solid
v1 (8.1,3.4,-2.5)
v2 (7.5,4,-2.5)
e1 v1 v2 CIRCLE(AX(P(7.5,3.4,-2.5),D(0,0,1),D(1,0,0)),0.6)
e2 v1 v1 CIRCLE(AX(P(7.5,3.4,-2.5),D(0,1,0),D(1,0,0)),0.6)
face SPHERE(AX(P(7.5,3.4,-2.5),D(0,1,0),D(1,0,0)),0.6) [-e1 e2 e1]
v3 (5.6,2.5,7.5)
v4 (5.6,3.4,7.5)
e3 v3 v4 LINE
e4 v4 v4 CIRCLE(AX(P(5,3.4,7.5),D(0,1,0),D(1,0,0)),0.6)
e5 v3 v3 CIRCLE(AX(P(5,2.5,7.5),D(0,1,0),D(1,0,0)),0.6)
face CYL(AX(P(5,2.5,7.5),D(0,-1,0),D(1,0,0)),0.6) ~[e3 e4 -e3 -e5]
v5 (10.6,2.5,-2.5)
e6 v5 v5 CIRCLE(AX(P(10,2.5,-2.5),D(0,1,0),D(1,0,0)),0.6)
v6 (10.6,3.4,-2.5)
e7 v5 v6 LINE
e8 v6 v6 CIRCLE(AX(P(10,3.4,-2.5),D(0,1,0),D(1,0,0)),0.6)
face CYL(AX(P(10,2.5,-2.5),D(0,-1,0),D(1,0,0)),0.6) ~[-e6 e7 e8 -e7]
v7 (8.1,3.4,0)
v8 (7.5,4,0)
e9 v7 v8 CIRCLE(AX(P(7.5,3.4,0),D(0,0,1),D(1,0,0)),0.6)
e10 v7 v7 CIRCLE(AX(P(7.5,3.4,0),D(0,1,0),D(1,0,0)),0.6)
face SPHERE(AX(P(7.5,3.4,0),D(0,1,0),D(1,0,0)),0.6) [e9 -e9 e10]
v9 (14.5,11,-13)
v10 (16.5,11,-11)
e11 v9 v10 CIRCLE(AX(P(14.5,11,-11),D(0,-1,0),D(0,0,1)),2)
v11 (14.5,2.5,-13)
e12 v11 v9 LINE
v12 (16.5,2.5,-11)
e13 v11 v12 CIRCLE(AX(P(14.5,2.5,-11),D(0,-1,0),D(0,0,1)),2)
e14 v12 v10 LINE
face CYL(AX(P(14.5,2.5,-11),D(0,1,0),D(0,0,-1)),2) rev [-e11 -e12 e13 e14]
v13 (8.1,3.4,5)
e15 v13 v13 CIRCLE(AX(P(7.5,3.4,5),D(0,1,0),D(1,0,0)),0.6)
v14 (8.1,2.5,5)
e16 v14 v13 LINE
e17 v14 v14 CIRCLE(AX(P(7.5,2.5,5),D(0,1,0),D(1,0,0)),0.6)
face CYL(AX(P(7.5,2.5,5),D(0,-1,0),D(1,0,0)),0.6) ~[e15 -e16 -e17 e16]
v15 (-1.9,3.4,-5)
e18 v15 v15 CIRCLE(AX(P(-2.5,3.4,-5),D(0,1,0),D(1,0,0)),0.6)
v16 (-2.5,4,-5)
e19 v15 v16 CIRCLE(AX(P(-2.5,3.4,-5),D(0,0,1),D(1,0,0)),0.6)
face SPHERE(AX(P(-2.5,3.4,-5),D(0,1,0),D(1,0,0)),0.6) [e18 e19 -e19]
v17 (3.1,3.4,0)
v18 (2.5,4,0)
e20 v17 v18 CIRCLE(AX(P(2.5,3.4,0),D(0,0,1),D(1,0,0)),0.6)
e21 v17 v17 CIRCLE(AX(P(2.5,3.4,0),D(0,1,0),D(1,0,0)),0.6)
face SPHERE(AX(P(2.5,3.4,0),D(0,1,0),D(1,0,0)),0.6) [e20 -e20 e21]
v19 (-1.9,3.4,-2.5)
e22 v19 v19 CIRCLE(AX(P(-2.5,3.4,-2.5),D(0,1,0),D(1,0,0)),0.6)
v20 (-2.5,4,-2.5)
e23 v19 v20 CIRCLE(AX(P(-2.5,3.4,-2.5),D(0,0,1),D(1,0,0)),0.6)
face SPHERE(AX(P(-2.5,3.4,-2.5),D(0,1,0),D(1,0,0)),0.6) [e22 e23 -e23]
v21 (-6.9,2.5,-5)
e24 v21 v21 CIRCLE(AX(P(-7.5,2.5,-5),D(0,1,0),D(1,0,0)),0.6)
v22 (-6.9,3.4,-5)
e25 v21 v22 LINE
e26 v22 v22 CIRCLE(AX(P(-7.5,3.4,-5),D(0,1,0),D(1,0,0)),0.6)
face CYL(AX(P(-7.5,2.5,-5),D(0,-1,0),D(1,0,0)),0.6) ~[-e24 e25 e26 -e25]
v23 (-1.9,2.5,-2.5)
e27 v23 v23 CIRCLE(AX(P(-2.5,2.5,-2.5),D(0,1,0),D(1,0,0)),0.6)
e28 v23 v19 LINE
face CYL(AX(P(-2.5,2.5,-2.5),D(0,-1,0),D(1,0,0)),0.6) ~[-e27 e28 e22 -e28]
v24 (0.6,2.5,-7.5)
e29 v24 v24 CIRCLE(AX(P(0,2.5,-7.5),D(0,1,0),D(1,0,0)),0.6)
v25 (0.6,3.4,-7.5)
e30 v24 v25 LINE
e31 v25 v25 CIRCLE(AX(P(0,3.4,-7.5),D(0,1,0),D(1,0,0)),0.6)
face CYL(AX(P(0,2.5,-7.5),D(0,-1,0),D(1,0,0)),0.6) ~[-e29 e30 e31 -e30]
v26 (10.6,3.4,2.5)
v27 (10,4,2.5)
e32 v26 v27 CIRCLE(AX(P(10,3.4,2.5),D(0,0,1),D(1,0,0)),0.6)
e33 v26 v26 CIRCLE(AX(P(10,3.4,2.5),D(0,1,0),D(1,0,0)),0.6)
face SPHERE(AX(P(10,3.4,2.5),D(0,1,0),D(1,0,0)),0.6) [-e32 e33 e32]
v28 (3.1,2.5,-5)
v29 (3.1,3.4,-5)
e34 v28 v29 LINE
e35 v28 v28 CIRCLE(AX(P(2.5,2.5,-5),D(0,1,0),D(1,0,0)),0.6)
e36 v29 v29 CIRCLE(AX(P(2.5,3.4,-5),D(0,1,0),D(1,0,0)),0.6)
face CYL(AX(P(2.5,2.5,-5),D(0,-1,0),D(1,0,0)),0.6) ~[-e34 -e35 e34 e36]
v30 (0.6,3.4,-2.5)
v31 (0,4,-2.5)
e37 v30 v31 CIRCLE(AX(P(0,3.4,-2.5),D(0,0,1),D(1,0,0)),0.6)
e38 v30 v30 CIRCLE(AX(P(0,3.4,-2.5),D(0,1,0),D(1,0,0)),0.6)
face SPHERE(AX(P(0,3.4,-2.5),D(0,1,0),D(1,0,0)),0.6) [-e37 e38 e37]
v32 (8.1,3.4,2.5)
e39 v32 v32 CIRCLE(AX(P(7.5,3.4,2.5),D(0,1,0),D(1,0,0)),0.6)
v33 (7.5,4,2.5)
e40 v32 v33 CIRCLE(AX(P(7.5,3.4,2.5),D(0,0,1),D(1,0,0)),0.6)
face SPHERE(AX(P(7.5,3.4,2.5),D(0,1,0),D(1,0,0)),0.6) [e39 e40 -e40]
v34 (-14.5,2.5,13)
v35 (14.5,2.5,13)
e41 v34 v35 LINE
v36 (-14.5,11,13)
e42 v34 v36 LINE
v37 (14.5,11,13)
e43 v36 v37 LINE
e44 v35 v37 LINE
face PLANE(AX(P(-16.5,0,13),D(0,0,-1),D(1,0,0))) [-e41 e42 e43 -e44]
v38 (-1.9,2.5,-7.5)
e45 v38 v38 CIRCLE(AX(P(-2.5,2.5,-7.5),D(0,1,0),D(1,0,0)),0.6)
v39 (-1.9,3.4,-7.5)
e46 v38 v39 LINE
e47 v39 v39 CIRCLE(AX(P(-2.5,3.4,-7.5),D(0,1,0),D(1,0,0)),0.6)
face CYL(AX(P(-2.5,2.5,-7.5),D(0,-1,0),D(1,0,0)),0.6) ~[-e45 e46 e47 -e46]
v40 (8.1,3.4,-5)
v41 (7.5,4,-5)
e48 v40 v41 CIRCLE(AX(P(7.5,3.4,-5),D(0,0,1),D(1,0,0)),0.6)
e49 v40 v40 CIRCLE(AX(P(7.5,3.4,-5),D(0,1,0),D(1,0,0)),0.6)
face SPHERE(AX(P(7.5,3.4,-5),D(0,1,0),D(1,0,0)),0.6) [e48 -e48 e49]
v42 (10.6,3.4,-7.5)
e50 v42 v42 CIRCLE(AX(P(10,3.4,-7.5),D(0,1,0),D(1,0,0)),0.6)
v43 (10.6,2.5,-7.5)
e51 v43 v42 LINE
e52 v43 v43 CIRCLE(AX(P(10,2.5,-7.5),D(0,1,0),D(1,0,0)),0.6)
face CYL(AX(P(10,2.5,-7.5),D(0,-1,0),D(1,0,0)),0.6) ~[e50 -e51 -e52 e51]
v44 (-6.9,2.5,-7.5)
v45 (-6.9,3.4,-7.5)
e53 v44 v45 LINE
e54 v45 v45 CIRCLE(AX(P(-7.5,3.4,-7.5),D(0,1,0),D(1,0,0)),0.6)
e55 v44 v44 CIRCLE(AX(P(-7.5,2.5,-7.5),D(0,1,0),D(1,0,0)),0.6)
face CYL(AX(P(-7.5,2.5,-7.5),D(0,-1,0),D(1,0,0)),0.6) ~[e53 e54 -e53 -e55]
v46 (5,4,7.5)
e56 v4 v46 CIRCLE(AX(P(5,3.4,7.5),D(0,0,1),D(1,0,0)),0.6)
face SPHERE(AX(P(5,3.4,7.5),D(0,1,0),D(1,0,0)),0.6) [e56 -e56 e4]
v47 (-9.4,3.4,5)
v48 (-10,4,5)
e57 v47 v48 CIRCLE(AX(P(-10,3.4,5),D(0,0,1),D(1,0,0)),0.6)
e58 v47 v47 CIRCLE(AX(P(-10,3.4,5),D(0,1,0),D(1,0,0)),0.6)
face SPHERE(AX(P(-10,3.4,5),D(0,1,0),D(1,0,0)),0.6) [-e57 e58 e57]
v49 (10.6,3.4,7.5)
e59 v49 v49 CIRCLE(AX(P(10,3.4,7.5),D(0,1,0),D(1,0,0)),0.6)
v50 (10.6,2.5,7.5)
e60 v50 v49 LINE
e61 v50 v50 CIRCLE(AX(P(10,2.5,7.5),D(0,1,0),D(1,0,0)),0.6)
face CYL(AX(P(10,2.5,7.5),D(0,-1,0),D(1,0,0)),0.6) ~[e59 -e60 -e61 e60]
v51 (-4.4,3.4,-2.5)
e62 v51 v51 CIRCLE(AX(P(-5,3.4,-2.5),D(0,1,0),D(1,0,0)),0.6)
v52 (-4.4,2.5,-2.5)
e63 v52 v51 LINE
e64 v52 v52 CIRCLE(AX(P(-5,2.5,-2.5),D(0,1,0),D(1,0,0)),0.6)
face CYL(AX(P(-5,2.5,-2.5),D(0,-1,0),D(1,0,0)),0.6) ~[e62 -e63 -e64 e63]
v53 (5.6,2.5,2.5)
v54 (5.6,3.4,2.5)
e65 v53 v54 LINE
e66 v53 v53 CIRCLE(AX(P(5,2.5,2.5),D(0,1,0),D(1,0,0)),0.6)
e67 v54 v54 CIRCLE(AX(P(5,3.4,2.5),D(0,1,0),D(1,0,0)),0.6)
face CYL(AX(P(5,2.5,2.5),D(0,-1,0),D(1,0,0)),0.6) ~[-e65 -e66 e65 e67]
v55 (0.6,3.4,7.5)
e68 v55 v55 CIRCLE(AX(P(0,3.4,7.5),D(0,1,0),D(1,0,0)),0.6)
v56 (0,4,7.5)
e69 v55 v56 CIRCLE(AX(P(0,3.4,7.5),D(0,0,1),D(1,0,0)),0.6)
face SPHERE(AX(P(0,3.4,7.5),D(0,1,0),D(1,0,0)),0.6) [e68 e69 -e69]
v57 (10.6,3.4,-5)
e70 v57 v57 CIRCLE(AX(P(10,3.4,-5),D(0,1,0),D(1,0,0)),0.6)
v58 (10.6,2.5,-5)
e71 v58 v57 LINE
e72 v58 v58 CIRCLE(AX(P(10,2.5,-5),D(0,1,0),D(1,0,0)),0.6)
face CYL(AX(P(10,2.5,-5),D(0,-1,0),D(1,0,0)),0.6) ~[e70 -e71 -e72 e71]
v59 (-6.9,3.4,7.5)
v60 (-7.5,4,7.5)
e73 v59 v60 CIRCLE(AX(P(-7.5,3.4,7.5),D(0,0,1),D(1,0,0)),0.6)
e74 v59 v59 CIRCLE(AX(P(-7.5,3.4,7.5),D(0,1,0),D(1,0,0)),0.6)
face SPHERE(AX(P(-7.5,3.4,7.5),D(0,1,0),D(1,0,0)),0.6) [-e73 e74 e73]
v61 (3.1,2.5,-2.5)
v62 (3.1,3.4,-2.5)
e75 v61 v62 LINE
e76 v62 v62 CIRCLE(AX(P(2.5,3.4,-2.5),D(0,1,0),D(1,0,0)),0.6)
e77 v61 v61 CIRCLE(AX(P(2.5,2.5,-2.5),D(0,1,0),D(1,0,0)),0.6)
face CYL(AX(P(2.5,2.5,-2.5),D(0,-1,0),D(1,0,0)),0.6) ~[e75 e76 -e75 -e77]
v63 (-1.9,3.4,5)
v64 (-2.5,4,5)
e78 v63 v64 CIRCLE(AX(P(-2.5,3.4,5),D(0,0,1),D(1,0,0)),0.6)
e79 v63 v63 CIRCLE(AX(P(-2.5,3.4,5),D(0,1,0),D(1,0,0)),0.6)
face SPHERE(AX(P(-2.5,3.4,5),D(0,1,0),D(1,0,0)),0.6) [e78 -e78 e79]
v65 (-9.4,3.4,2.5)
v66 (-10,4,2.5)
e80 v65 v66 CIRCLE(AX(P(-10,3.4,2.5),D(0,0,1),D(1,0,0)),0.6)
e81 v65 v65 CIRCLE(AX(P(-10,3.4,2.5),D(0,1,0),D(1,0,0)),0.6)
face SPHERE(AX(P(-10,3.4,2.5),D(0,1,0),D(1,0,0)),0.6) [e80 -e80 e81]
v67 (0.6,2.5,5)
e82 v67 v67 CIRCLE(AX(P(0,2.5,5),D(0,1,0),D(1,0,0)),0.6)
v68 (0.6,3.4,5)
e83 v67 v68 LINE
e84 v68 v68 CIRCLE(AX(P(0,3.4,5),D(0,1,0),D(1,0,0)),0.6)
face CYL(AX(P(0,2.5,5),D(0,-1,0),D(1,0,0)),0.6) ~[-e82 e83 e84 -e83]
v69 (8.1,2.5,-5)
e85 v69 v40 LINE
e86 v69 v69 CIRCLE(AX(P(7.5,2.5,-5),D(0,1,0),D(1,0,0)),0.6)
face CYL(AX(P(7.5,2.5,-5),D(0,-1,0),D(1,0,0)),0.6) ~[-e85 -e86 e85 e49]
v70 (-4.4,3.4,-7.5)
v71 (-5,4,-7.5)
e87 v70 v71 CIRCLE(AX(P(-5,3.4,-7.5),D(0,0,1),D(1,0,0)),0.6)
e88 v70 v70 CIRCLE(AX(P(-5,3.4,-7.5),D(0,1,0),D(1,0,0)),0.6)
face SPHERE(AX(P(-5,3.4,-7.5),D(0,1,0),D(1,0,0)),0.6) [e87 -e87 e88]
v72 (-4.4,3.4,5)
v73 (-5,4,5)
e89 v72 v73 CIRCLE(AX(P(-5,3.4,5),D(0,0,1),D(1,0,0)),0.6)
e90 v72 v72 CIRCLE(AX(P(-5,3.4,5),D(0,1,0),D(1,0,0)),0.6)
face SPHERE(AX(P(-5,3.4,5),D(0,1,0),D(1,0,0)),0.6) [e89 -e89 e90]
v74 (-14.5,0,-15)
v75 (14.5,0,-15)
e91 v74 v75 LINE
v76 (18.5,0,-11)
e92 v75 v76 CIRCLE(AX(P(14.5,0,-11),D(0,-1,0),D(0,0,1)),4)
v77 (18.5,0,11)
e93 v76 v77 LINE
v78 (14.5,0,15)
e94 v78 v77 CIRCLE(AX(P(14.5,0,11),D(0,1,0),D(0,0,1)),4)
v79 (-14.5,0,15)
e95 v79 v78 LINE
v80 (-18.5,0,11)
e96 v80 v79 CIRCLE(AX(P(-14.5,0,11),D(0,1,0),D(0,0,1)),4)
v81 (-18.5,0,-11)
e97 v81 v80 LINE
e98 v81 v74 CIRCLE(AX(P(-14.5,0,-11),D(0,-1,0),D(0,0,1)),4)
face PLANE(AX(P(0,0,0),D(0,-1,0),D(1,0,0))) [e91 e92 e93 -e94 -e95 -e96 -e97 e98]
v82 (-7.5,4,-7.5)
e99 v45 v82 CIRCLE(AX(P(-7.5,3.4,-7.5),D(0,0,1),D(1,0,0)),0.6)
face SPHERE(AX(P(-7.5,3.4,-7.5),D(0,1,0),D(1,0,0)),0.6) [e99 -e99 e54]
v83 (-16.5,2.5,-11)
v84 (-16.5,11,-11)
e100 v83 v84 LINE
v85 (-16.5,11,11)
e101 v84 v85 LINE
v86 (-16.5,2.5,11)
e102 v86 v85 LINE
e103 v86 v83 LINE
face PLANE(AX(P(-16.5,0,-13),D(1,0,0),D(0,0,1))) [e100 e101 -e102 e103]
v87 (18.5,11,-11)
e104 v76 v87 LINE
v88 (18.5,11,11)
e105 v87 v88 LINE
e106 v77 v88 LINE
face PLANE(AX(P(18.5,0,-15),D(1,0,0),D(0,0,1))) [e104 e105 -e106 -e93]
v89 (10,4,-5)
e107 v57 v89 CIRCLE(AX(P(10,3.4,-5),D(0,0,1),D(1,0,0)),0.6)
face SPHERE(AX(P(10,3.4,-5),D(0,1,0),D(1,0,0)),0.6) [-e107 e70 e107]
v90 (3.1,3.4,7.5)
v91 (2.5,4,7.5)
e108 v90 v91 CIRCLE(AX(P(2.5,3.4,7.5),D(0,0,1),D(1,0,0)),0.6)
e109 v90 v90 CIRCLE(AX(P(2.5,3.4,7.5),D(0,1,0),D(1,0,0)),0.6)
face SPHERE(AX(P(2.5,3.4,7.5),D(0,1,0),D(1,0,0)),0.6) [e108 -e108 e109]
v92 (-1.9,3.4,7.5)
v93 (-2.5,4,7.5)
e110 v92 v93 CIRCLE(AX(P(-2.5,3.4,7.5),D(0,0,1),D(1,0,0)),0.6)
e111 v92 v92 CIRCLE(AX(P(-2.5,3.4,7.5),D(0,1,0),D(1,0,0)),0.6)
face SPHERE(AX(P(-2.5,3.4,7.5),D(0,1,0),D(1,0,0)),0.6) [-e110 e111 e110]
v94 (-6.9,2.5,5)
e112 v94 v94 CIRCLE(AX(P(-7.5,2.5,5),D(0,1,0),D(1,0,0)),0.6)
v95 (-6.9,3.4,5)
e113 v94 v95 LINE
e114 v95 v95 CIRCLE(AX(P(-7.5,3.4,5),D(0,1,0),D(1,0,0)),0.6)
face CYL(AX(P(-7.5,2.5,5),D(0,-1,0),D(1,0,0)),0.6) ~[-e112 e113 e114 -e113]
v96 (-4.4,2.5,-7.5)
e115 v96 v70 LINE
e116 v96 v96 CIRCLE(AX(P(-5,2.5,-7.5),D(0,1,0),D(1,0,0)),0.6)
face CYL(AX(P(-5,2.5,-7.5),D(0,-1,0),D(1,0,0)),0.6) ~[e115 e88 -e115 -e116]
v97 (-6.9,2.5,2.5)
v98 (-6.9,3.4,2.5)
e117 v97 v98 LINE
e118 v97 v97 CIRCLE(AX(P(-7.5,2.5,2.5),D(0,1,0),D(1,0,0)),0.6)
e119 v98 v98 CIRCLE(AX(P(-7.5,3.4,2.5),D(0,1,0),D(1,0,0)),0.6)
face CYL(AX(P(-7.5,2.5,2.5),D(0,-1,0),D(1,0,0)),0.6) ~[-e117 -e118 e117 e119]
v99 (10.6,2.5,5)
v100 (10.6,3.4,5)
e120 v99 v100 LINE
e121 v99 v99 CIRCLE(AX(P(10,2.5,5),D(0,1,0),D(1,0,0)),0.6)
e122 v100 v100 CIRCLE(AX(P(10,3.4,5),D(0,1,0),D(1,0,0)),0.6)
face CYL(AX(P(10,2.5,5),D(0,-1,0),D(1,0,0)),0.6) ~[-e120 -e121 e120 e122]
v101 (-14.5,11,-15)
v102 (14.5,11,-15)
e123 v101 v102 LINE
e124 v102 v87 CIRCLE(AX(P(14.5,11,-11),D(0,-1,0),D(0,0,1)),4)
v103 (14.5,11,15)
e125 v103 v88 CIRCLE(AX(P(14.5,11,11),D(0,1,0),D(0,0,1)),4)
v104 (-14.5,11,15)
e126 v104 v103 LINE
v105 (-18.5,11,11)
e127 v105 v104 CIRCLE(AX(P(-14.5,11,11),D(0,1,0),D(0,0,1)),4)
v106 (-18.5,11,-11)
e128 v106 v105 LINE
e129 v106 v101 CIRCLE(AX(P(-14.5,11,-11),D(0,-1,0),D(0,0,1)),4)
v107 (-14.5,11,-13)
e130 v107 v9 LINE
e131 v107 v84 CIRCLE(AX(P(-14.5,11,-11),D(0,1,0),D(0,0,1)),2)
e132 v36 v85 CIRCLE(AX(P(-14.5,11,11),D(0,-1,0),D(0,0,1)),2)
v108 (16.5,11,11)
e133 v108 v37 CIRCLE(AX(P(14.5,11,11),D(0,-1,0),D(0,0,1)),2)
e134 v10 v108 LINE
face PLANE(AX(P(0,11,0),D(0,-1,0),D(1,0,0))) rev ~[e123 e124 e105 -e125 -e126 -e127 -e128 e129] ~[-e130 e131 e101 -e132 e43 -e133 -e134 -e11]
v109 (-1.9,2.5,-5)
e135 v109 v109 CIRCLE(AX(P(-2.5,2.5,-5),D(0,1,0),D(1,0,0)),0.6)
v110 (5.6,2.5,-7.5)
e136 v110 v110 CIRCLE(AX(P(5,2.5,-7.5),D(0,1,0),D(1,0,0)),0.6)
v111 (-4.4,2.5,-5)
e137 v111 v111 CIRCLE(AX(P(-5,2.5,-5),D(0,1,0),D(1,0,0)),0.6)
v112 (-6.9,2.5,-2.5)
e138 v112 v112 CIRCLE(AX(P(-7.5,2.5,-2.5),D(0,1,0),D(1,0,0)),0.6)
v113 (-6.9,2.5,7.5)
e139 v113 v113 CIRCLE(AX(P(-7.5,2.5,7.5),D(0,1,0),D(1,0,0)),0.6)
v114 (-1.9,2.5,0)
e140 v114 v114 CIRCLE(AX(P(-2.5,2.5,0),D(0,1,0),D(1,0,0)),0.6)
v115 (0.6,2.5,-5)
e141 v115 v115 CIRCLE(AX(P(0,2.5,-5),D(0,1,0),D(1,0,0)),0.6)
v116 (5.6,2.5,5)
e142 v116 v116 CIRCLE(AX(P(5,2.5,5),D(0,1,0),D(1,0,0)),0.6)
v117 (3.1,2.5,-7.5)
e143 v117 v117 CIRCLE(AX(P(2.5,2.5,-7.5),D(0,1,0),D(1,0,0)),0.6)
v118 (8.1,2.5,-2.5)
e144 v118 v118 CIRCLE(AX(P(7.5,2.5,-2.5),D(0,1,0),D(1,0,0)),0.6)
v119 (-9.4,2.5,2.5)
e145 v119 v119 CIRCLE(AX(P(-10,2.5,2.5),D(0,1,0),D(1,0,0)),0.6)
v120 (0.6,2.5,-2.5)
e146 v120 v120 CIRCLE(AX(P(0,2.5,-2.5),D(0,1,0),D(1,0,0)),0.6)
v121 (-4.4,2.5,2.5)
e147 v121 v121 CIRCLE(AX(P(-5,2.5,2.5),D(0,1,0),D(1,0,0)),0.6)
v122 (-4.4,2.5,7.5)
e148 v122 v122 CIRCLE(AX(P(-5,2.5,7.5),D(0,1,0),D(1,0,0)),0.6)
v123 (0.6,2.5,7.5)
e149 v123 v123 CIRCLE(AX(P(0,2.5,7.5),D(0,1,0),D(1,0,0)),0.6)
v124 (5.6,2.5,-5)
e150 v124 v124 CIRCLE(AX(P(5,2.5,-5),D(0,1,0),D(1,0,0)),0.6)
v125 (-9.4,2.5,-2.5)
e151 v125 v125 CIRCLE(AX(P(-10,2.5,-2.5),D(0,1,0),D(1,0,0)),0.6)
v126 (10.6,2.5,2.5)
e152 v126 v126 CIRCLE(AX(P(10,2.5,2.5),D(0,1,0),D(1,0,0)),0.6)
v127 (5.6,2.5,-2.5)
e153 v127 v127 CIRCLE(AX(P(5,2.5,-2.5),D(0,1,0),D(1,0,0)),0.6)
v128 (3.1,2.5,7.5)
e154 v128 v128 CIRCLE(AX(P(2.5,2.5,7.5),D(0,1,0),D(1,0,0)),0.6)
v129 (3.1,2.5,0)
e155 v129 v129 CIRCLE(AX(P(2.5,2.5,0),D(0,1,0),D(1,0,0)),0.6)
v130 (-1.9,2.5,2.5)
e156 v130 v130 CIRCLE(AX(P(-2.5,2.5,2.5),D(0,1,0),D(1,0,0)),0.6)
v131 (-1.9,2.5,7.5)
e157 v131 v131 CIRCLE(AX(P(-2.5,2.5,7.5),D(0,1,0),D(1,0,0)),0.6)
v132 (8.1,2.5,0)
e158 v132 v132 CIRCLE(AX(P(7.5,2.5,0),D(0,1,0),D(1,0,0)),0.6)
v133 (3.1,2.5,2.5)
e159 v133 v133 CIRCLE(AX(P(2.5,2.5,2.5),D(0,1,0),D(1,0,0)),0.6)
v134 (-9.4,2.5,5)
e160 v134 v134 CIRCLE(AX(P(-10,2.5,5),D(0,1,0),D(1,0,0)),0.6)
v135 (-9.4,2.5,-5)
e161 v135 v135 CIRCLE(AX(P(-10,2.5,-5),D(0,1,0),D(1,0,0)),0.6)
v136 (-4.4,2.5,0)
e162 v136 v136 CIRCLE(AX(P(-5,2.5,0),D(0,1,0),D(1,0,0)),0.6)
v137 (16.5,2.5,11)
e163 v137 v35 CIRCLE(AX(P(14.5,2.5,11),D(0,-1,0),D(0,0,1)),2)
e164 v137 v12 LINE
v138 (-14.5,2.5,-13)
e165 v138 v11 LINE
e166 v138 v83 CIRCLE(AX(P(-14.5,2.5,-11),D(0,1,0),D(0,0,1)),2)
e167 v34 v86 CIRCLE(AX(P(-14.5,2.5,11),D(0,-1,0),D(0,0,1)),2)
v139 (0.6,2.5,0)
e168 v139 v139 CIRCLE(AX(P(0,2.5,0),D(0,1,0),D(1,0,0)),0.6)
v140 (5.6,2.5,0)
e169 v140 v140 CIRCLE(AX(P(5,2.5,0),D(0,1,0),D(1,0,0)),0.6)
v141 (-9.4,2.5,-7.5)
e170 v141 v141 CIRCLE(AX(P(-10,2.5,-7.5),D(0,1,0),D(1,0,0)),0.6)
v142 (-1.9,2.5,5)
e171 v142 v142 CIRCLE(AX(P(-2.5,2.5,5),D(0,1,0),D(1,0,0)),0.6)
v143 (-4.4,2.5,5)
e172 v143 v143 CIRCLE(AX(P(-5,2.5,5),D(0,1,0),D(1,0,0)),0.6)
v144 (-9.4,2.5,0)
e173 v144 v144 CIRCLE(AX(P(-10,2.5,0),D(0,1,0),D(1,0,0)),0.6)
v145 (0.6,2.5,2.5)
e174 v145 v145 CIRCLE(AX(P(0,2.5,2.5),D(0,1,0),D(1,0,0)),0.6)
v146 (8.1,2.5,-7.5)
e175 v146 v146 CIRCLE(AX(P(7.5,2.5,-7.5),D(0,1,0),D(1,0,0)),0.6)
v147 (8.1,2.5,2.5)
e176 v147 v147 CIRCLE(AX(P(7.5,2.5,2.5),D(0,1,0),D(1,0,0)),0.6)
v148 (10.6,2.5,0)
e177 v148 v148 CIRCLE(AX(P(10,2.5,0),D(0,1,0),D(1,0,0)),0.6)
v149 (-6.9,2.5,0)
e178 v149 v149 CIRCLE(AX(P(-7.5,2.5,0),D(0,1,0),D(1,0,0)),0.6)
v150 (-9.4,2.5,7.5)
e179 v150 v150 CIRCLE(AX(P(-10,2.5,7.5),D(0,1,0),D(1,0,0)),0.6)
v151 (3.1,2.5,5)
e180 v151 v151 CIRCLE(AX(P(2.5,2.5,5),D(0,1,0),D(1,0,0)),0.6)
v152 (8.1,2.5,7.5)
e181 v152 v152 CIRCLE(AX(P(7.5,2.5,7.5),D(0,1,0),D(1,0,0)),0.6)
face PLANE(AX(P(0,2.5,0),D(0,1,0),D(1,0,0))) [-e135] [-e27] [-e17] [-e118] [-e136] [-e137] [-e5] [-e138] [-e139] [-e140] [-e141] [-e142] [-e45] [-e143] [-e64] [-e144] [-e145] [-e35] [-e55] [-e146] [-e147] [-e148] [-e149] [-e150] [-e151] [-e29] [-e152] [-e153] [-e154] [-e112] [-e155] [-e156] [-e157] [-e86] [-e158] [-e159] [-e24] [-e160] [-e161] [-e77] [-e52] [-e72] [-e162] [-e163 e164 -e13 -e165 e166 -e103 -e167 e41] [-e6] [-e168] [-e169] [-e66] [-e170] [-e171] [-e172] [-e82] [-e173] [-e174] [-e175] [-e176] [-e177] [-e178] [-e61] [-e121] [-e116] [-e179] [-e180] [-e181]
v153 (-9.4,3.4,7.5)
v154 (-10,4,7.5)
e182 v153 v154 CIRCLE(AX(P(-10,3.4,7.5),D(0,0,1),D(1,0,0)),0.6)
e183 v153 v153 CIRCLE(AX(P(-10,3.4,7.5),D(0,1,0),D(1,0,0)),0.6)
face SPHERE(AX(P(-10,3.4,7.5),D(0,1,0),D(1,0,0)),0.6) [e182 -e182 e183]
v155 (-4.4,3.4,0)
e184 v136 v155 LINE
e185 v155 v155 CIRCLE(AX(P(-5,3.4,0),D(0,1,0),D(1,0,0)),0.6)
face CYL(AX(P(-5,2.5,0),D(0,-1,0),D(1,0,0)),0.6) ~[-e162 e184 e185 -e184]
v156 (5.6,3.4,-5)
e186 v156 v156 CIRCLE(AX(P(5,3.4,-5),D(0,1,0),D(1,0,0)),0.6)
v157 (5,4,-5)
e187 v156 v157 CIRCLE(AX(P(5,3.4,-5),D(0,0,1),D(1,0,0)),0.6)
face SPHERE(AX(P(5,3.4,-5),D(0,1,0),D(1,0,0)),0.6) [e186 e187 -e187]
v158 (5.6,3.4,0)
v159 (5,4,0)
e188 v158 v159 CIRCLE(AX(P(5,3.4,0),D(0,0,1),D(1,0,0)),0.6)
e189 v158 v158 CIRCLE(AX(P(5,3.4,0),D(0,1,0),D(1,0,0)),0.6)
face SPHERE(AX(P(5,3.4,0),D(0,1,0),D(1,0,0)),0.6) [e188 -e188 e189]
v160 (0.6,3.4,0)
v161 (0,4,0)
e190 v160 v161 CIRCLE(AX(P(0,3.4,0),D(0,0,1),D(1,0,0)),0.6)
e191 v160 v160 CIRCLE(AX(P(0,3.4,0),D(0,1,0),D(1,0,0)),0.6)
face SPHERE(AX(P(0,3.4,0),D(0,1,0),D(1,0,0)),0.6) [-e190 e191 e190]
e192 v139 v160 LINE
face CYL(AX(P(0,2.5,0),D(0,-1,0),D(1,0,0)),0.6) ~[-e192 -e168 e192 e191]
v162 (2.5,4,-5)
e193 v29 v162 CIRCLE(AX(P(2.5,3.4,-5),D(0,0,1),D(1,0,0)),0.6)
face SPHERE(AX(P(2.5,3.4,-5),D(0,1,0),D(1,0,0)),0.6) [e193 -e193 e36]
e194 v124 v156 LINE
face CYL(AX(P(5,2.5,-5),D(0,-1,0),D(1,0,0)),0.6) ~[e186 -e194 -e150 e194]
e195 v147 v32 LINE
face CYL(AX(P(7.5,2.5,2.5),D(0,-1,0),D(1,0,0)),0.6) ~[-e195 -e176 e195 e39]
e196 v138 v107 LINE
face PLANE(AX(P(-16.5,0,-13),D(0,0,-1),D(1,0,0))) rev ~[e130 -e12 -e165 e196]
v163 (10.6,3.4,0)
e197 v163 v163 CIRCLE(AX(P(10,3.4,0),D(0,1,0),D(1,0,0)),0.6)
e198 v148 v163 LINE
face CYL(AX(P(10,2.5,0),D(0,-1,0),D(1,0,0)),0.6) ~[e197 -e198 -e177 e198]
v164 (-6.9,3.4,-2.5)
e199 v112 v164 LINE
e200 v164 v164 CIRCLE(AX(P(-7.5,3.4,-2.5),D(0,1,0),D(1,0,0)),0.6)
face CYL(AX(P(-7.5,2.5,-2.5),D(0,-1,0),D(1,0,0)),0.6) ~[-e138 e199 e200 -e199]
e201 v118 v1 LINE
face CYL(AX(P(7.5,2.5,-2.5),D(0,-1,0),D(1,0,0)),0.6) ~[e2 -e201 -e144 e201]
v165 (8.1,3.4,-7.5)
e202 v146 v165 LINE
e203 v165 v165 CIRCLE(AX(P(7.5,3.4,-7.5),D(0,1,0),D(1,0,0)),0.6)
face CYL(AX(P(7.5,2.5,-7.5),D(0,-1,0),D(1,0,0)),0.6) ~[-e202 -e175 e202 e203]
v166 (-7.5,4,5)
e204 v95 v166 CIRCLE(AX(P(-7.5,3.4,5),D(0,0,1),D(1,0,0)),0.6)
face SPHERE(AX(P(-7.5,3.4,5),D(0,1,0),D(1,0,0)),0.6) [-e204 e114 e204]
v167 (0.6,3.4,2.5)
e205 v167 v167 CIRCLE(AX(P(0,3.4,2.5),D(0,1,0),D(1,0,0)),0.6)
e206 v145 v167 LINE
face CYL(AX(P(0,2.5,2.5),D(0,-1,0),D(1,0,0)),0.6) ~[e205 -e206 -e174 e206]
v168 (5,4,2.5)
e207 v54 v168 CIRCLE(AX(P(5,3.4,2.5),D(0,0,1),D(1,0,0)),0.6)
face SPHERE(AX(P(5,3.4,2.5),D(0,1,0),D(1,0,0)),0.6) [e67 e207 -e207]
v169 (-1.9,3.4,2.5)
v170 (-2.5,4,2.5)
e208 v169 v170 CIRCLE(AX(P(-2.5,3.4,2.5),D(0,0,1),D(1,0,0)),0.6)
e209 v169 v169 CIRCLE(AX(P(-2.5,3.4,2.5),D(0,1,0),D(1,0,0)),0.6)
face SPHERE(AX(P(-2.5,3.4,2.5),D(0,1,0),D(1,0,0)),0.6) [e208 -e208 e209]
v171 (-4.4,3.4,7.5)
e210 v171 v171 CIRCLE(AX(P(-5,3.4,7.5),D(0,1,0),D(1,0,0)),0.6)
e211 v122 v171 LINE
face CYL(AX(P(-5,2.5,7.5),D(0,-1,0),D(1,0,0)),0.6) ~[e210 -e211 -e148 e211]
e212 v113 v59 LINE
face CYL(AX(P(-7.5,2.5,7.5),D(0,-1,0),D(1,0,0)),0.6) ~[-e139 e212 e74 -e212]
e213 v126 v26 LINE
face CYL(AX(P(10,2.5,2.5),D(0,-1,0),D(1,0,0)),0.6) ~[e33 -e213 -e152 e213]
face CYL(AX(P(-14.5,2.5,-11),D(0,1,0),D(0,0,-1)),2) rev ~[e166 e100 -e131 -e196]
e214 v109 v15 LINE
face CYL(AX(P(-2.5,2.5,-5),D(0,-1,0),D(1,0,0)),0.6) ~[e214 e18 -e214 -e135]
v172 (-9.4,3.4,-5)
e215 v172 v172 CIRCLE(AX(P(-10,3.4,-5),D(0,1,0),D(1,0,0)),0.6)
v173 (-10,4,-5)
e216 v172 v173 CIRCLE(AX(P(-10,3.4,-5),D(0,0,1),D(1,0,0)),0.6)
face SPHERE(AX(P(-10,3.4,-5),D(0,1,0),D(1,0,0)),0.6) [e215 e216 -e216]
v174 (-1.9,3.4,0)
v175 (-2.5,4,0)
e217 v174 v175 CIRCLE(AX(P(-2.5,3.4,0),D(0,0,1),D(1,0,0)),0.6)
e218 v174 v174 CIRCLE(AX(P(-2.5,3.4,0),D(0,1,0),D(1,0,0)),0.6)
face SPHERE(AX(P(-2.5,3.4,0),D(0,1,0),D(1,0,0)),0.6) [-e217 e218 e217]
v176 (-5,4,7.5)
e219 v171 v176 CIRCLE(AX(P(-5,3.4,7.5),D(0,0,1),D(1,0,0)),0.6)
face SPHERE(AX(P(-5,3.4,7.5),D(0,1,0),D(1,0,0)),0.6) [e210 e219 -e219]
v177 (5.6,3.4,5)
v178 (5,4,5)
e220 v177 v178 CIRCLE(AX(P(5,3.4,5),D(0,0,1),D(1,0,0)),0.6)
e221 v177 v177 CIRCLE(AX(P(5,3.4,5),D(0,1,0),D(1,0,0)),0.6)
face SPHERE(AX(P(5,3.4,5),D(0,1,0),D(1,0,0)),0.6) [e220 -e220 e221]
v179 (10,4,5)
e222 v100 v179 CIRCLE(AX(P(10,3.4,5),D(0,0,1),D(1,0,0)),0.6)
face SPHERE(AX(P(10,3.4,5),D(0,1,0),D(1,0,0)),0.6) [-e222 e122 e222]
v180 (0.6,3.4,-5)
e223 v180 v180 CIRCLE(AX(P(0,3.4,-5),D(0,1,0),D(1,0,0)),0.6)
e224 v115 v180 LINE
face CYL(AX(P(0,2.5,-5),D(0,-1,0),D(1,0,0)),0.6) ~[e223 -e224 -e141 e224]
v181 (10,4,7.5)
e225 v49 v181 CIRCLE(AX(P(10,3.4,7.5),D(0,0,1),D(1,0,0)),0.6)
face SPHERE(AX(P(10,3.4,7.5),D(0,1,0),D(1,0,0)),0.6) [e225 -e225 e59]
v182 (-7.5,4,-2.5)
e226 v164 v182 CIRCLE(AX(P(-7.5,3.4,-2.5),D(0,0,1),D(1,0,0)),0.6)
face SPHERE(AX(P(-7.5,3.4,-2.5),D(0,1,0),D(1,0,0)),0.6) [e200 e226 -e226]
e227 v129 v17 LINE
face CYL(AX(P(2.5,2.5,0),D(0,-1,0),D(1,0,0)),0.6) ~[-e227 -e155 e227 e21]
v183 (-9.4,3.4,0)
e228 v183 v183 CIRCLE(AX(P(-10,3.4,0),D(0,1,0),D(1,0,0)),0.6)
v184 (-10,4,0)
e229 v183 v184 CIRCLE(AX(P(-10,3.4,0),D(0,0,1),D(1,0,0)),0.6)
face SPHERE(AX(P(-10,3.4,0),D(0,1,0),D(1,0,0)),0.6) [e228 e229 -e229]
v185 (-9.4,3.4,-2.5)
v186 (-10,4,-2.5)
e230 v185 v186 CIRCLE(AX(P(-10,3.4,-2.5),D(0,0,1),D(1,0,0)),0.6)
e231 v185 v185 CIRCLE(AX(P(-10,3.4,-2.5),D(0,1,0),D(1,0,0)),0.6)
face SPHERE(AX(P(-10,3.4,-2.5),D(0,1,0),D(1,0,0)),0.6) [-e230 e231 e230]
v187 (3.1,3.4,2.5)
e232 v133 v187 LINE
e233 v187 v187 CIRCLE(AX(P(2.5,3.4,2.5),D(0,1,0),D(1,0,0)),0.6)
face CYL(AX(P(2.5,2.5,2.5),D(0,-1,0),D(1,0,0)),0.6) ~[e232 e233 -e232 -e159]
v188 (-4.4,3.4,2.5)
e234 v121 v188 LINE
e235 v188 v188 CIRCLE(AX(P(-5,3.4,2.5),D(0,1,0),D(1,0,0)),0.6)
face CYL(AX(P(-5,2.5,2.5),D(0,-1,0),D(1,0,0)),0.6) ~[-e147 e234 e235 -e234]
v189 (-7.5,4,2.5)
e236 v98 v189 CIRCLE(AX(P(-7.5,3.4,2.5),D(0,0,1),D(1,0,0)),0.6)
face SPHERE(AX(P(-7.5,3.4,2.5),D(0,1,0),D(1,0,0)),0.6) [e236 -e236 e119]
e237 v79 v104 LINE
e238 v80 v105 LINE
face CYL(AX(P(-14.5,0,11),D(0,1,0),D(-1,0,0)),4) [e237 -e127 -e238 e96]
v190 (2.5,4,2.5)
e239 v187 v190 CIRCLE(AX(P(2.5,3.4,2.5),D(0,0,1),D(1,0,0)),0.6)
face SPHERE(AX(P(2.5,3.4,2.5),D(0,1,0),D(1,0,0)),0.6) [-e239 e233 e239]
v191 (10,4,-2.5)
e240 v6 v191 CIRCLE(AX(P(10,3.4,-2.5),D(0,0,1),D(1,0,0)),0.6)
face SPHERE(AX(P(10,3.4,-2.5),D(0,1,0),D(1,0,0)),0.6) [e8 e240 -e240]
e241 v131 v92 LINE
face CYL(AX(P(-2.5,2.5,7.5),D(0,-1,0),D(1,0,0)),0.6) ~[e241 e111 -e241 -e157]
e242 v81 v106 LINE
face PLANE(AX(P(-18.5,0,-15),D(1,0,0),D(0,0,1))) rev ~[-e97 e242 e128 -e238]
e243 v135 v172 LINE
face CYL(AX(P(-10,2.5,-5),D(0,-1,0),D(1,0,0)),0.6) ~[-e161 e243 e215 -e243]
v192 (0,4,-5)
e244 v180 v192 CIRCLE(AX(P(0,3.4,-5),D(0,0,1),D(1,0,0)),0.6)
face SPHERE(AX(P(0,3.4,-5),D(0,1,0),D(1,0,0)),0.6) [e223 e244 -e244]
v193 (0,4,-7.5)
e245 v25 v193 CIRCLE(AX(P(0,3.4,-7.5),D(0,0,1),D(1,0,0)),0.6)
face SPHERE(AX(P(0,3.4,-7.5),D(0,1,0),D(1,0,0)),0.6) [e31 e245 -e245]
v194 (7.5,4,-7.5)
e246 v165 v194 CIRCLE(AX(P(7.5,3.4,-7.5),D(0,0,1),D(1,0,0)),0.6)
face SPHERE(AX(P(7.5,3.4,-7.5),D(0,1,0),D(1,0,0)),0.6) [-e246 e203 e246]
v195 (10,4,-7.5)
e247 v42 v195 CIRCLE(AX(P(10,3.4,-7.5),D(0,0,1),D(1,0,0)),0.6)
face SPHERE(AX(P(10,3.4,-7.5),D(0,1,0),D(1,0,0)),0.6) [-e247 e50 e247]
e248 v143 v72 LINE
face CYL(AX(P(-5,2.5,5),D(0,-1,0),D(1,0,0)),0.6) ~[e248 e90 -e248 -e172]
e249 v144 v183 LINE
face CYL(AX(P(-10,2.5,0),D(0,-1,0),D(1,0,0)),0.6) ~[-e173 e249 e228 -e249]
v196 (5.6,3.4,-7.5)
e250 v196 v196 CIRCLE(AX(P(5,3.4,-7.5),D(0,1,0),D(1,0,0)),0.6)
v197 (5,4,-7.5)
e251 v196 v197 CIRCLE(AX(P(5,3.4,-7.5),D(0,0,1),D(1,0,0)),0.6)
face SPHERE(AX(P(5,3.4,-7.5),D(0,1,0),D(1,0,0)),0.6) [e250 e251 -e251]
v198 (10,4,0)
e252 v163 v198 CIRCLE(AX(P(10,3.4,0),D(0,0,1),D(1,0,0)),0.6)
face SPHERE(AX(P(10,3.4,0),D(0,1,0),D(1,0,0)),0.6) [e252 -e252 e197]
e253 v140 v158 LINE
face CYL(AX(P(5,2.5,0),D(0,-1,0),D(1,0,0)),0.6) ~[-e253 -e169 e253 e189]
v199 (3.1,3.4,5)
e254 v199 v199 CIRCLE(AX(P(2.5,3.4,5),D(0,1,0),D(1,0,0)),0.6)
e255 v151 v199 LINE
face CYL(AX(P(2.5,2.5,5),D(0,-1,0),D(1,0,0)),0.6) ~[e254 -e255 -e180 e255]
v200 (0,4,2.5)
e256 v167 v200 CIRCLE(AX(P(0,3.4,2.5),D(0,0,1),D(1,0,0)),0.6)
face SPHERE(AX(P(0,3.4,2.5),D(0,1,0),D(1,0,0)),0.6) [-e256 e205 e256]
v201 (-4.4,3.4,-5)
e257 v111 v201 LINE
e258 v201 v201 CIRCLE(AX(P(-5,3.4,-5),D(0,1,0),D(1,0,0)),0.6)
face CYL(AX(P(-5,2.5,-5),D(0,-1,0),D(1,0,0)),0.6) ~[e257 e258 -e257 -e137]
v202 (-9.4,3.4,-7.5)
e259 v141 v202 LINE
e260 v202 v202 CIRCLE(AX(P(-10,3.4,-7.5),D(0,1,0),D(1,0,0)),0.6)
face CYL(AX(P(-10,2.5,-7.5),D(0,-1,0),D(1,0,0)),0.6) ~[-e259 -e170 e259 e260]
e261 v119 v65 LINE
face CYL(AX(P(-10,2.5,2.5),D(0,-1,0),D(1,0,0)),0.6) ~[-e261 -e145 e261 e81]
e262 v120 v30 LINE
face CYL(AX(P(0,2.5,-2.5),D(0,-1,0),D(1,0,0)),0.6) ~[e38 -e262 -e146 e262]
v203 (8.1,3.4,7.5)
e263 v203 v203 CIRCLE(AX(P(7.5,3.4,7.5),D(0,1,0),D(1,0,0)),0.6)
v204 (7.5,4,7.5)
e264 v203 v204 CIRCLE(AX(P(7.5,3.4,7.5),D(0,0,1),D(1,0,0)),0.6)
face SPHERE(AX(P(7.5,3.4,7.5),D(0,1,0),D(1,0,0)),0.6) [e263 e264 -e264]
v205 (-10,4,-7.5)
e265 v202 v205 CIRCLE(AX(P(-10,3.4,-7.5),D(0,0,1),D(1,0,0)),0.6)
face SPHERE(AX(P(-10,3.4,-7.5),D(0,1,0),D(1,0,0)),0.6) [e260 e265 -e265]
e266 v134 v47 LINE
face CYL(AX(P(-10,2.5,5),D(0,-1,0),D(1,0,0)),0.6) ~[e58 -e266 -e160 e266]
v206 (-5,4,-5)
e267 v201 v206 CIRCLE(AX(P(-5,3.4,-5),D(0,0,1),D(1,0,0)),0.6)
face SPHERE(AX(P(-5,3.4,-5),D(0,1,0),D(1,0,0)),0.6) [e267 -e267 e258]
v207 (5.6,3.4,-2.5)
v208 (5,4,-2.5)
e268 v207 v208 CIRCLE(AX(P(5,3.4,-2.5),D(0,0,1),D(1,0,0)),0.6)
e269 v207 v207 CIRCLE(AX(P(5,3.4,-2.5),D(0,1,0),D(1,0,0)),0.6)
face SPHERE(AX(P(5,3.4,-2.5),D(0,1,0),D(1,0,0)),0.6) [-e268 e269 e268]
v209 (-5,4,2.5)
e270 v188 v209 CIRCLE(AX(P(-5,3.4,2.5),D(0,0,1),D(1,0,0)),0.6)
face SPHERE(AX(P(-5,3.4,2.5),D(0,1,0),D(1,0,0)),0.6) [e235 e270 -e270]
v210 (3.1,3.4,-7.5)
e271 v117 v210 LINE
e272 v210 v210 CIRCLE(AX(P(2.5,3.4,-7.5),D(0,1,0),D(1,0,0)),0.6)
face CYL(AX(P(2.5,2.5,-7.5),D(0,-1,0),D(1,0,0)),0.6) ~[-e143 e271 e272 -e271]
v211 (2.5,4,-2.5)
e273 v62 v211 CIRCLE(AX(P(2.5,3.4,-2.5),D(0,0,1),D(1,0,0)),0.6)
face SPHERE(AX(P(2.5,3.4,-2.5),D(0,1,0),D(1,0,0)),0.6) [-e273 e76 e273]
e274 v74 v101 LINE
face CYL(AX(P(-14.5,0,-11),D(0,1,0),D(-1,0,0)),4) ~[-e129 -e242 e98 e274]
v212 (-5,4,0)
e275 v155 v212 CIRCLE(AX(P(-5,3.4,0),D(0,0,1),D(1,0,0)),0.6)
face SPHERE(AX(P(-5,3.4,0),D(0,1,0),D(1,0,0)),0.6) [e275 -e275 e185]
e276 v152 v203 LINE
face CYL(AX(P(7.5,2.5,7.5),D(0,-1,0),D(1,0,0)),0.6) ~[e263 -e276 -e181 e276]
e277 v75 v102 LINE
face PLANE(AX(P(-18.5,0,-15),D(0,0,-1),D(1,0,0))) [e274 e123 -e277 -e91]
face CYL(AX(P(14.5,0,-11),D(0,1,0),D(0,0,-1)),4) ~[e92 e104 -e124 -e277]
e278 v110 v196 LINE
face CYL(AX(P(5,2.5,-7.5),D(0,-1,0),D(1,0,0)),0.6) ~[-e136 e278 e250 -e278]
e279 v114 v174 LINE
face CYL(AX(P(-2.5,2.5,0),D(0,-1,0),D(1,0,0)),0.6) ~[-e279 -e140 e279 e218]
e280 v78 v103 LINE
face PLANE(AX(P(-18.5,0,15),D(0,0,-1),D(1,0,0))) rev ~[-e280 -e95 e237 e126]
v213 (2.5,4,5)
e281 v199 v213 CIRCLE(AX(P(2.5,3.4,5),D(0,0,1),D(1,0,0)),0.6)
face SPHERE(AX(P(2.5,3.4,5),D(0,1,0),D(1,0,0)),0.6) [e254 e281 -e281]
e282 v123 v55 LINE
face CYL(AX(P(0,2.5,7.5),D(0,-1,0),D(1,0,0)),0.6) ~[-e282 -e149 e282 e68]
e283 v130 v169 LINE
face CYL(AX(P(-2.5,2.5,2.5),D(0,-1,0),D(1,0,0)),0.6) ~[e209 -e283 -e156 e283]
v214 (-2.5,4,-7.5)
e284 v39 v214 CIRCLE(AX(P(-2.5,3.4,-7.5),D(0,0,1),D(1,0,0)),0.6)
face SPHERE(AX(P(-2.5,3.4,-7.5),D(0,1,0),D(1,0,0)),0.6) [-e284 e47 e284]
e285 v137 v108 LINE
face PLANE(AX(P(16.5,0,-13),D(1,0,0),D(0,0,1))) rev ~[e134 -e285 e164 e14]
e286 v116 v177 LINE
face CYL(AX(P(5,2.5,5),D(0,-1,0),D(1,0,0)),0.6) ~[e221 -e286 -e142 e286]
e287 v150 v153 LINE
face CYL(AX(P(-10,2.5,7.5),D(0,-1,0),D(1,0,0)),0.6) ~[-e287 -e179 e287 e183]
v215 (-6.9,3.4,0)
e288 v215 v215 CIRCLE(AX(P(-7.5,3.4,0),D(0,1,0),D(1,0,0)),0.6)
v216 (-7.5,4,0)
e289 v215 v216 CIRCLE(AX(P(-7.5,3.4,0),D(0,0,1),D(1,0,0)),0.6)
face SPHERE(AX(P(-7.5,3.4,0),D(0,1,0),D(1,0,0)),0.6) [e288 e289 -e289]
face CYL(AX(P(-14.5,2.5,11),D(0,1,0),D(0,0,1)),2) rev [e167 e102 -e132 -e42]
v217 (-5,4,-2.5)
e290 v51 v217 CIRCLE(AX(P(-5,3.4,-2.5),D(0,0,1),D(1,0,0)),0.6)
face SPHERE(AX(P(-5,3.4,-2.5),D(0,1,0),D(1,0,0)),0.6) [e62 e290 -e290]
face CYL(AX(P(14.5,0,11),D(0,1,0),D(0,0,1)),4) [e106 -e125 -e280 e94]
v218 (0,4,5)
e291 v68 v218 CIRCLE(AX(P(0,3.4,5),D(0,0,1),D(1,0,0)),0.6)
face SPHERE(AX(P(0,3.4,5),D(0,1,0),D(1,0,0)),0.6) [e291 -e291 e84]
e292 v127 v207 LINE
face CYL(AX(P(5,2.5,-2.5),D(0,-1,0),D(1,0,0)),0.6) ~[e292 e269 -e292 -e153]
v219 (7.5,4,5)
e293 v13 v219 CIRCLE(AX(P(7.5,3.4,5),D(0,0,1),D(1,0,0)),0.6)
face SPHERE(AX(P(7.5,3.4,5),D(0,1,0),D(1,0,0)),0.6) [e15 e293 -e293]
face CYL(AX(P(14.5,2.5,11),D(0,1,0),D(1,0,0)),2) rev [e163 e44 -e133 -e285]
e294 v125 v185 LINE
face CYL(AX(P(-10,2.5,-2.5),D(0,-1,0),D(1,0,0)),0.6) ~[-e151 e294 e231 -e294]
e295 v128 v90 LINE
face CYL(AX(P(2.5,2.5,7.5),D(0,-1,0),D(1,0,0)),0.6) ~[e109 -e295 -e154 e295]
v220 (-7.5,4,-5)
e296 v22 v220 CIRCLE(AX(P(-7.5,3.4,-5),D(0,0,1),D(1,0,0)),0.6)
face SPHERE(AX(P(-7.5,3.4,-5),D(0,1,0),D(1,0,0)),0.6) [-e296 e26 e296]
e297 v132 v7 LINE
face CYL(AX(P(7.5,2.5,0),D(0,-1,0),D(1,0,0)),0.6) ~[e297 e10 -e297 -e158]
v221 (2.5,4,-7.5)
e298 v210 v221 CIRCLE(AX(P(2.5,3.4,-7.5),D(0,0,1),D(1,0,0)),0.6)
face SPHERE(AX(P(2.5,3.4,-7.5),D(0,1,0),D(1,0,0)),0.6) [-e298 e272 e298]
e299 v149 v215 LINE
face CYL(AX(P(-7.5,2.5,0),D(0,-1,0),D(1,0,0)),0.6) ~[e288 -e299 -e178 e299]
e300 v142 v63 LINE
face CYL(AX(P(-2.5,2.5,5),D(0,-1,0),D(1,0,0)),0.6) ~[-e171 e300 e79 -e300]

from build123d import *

# Parameters (mm, degrees)
SKETCH_1_W      = 33
SKETCH_1_H      = 26
EXTRUDE_1_DEPTH = 2.5
SKETCH_2_R      = 0.6
EXTRUDE_2_DEPTH = 1.5
FILLET_1_R      = 0.6
SKETCH_3_W      = 37
SKETCH_3_H      = 30
SKETCH_3_W_2    = 33
SKETCH_3_H_2    = 26
EXTRUDE_3_DEPTH = 11
FILLET_3_R      = 2
FILLET_4_R      = 4


with BuildPart() as part:
    # 草图1 → 凸台-拉伸1 (new body)
    with BuildSketch(Plane(origin=(0, 0, 0), x_dir=(1, 0, 0), z_dir=(0, 1, 0))):
        Rectangle(SKETCH_1_W, SKETCH_1_H)
    extrude(amount=EXTRUDE_1_DEPTH)

    # 草图2 → 凸台-拉伸2 (add)
    with BuildSketch(Plane(origin=(0, 2.5, 0), x_dir=(1, 0, 0), z_dir=(0, 1, 0))):
        Circle(SKETCH_2_R)
        with Locations((2.5, 0)):
            Circle(SKETCH_2_R)
        with Locations((5, 0)):
            Circle(SKETCH_2_R)
        with Locations((7.5, 0)):
            Circle(SKETCH_2_R)
        with Locations((10, 0)):
            Circle(SKETCH_2_R)
        with Locations((2.5, 2.5)):
            Circle(SKETCH_2_R)
        with Locations((5, 2.5)):
            Circle(SKETCH_2_R)
        with Locations((7.5, 2.5)):
            Circle(SKETCH_2_R)
        with Locations((10, 2.5)):
            Circle(SKETCH_2_R)
        with Locations((2.5, 5)):
            Circle(SKETCH_2_R)
        with Locations((5, 5)):
            Circle(SKETCH_2_R)
        with Locations((7.5, 5)):
            Circle(SKETCH_2_R)
        with Locations((10, 5)):
            Circle(SKETCH_2_R)
        with Locations((2.5, 7.5)):
            Circle(SKETCH_2_R)
        with Locations((5, 7.5)):
            Circle(SKETCH_2_R)
        with Locations((7.5, 7.5)):
            Circle(SKETCH_2_R)
        with Locations((10, 7.5)):
            Circle(SKETCH_2_R)
        with Locations((0, 2.5)):
            Circle(SKETCH_2_R)
        with Locations((0, 5)):
            Circle(SKETCH_2_R)
        with Locations((0, 7.5)):
            Circle(SKETCH_2_R)
        with Locations((10, -7.5)):
            Circle(SKETCH_2_R)
        with Locations((7.5, -7.5)):
            Circle(SKETCH_2_R)
        with Locations((5, -7.5)):
            Circle(SKETCH_2_R)
        with Locations((2.5, -7.5)):
            Circle(SKETCH_2_R)
        with Locations((10, -5)):
            Circle(SKETCH_2_R)
        with Locations((7.5, -5)):
            Circle(SKETCH_2_R)
        with Locations((5, -5)):
            Circle(SKETCH_2_R)
        with Locations((2.5, -5)):
            Circle(SKETCH_2_R)
        with Locations((10, -2.5)):
            Circle(SKETCH_2_R)
        with Locations((7.5, -2.5)):
            Circle(SKETCH_2_R)
        with Locations((5, -2.5)):
            Circle(SKETCH_2_R)
        with Locations((2.5, -2.5)):
            Circle(SKETCH_2_R)
        with Locations((-2.5, -2.5)):
            Circle(SKETCH_2_R)
        with Locations((-5, -2.5)):
            Circle(SKETCH_2_R)
        with Locations((-7.5, -2.5)):
            Circle(SKETCH_2_R)
        with Locations((-10, -2.5)):
            Circle(SKETCH_2_R)
        with Locations((-2.5, -5)):
            Circle(SKETCH_2_R)
        with Locations((-5, -5)):
            Circle(SKETCH_2_R)
        with Locations((-7.5, -5)):
            Circle(SKETCH_2_R)
        with Locations((-10, -5)):
            Circle(SKETCH_2_R)
        with Locations((-2.5, -7.5)):
            Circle(SKETCH_2_R)
        with Locations((-5, -7.5)):
            Circle(SKETCH_2_R)
        with Locations((-7.5, -7.5)):
            Circle(SKETCH_2_R)
        with Locations((-10, -7.5)):
            Circle(SKETCH_2_R)
        with Locations((-10, 7.5)):
            Circle(SKETCH_2_R)
        with Locations((-7.5, 7.5)):
            Circle(SKETCH_2_R)
        with Locations((-5, 7.5)):
            Circle(SKETCH_2_R)
        with Locations((-2.5, 7.5)):
            Circle(SKETCH_2_R)
        with Locations((-10, 5)):
            Circle(SKETCH_2_R)
        with Locations((-7.5, 5)):
            Circle(SKETCH_2_R)
        with Locations((-5, 5)):
            Circle(SKETCH_2_R)
        with Locations((-2.5, 5)):
            Circle(SKETCH_2_R)
        with Locations((-10, 2.5)):
            Circle(SKETCH_2_R)
        with Locations((-7.5, 2.5)):
            Circle(SKETCH_2_R)
        with Locations((-5, 2.5)):
            Circle(SKETCH_2_R)
        with Locations((-2.5, 2.5)):
            Circle(SKETCH_2_R)
        with Locations((-10, 0)):
            Circle(SKETCH_2_R)
        with Locations((-7.5, 0)):
            Circle(SKETCH_2_R)
        with Locations((-5, 0)):
            Circle(SKETCH_2_R)
        with Locations((-2.5, 0)):
            Circle(SKETCH_2_R)
        with Locations((0, -7.5)):
            Circle(SKETCH_2_R)
        with Locations((0, -5)):
            Circle(SKETCH_2_R)
        with Locations((0, -2.5)):
            Circle(SKETCH_2_R)
    extrude(amount=EXTRUDE_2_DEPTH)

    # 圆角1
    fillet_1_edges = [part.edges().sort_by_distance(p)[0] for p in [
        (9.4, 4, 2.5),
        (6.9, 4, 2.5),
        (4.4, 4, 2.5),
        (1.9, 4, 2.5),
        (-3.1, 4, 2.5),
        (-5.6, 4, 2.5),
        (-8.1, 4, 2.5),
        (-10.6, 4, 2.5),
        (-3.1, 4, 5),
        (-5.6, 4, 5),
        (-8.1, 4, 5),
        (-10.6, 4, 5),
        (-3.1, 4, 7.5),
        (-5.6, 4, 7.5),
        (-8.1, 4, 7.5),
        (-10.6, 4, 7.5),
        (-0.6, 4, 0),
        (-10.6, 4, -7.5),
        (-8.1, 4, -7.5),
        (-5.6, 4, -7.5),
        (-3.1, 4, -7.5),
        (-10.6, 4, -5),
        (-8.1, 4, -5),
        (-5.6, 4, -5),
        (-3.1, 4, -5),
        (-10.6, 4, -2.5),
        (-8.1, 4, -2.5),
        (1.9, 4, 0),
        (-5.6, 4, -2.5),
        (-3.1, 4, -2.5),
        (-10.6, 4, 0),
        (-8.1, 4, 0),
        (-5.6, 4, 0),
        (-3.1, 4, 0),
        (-0.6, 4, 7.5),
        (-0.6, 4, 5),
        (-0.6, 4, 2.5),
        (4.4, 4, 0),
        (6.9, 4, 0),
        (9.4, 4, 0),
        (1.9, 4, -2.5),
        (4.4, 4, -2.5),
        (6.9, 4, -2.5),
        (9.4, 4, -2.5),
        (1.9, 4, -5),
        (4.4, 4, -5),
        (6.9, 4, -5),
        (9.4, 4, -5),
        (1.9, 4, -7.5),
        (4.4, 4, -7.5),
        (6.9, 4, -7.5),
        (9.4, 4, -7.5),
        (-0.6, 4, -2.5),
        (-0.6, 4, -5),
        (-0.6, 4, -7.5),
        (9.4, 4, 7.5),
        (6.9, 4, 7.5),
        (4.4, 4, 7.5),
        (1.9, 4, 7.5),
        (9.4, 4, 5),
        (6.9, 4, 5),
        (4.4, 4, 5),
        (1.9, 4, 5),
    ]]
    fillet(fillet_1_edges, radius=FILLET_1_R)

    # 草图3 → 凸台-拉伸3 (add)
    with BuildSketch(Plane.XZ):
        Rectangle(SKETCH_3_W, SKETCH_3_H)
        Rectangle(SKETCH_3_W_2, SKETCH_3_H_2, mode=Mode.SUBTRACT)
    extrude(amount=-EXTRUDE_3_DEPTH)

    # 圆角3
    fillet_3_edges = [part.edges().sort_by_distance(p)[0] for p in [
        (16.5, 6.75, -13),
        (-16.5, 6.75, -13),
        (-16.5, 6.75, 13),
        (16.5, 6.75, 13),
    ]]
    fillet(fillet_3_edges, radius=FILLET_3_R)

    # 圆角4
    fillet_4_edges = [part.edges().sort_by_distance(p)[0] for p in [
        (18.5, 5.5, 15),
        (18.5, 5.5, -15),
        (-18.5, 5.5, -15),
        (-18.5, 5.5, 15),
    ]]
    fillet(fillet_4_edges, radius=FILLET_4_R)


solid = part.part
